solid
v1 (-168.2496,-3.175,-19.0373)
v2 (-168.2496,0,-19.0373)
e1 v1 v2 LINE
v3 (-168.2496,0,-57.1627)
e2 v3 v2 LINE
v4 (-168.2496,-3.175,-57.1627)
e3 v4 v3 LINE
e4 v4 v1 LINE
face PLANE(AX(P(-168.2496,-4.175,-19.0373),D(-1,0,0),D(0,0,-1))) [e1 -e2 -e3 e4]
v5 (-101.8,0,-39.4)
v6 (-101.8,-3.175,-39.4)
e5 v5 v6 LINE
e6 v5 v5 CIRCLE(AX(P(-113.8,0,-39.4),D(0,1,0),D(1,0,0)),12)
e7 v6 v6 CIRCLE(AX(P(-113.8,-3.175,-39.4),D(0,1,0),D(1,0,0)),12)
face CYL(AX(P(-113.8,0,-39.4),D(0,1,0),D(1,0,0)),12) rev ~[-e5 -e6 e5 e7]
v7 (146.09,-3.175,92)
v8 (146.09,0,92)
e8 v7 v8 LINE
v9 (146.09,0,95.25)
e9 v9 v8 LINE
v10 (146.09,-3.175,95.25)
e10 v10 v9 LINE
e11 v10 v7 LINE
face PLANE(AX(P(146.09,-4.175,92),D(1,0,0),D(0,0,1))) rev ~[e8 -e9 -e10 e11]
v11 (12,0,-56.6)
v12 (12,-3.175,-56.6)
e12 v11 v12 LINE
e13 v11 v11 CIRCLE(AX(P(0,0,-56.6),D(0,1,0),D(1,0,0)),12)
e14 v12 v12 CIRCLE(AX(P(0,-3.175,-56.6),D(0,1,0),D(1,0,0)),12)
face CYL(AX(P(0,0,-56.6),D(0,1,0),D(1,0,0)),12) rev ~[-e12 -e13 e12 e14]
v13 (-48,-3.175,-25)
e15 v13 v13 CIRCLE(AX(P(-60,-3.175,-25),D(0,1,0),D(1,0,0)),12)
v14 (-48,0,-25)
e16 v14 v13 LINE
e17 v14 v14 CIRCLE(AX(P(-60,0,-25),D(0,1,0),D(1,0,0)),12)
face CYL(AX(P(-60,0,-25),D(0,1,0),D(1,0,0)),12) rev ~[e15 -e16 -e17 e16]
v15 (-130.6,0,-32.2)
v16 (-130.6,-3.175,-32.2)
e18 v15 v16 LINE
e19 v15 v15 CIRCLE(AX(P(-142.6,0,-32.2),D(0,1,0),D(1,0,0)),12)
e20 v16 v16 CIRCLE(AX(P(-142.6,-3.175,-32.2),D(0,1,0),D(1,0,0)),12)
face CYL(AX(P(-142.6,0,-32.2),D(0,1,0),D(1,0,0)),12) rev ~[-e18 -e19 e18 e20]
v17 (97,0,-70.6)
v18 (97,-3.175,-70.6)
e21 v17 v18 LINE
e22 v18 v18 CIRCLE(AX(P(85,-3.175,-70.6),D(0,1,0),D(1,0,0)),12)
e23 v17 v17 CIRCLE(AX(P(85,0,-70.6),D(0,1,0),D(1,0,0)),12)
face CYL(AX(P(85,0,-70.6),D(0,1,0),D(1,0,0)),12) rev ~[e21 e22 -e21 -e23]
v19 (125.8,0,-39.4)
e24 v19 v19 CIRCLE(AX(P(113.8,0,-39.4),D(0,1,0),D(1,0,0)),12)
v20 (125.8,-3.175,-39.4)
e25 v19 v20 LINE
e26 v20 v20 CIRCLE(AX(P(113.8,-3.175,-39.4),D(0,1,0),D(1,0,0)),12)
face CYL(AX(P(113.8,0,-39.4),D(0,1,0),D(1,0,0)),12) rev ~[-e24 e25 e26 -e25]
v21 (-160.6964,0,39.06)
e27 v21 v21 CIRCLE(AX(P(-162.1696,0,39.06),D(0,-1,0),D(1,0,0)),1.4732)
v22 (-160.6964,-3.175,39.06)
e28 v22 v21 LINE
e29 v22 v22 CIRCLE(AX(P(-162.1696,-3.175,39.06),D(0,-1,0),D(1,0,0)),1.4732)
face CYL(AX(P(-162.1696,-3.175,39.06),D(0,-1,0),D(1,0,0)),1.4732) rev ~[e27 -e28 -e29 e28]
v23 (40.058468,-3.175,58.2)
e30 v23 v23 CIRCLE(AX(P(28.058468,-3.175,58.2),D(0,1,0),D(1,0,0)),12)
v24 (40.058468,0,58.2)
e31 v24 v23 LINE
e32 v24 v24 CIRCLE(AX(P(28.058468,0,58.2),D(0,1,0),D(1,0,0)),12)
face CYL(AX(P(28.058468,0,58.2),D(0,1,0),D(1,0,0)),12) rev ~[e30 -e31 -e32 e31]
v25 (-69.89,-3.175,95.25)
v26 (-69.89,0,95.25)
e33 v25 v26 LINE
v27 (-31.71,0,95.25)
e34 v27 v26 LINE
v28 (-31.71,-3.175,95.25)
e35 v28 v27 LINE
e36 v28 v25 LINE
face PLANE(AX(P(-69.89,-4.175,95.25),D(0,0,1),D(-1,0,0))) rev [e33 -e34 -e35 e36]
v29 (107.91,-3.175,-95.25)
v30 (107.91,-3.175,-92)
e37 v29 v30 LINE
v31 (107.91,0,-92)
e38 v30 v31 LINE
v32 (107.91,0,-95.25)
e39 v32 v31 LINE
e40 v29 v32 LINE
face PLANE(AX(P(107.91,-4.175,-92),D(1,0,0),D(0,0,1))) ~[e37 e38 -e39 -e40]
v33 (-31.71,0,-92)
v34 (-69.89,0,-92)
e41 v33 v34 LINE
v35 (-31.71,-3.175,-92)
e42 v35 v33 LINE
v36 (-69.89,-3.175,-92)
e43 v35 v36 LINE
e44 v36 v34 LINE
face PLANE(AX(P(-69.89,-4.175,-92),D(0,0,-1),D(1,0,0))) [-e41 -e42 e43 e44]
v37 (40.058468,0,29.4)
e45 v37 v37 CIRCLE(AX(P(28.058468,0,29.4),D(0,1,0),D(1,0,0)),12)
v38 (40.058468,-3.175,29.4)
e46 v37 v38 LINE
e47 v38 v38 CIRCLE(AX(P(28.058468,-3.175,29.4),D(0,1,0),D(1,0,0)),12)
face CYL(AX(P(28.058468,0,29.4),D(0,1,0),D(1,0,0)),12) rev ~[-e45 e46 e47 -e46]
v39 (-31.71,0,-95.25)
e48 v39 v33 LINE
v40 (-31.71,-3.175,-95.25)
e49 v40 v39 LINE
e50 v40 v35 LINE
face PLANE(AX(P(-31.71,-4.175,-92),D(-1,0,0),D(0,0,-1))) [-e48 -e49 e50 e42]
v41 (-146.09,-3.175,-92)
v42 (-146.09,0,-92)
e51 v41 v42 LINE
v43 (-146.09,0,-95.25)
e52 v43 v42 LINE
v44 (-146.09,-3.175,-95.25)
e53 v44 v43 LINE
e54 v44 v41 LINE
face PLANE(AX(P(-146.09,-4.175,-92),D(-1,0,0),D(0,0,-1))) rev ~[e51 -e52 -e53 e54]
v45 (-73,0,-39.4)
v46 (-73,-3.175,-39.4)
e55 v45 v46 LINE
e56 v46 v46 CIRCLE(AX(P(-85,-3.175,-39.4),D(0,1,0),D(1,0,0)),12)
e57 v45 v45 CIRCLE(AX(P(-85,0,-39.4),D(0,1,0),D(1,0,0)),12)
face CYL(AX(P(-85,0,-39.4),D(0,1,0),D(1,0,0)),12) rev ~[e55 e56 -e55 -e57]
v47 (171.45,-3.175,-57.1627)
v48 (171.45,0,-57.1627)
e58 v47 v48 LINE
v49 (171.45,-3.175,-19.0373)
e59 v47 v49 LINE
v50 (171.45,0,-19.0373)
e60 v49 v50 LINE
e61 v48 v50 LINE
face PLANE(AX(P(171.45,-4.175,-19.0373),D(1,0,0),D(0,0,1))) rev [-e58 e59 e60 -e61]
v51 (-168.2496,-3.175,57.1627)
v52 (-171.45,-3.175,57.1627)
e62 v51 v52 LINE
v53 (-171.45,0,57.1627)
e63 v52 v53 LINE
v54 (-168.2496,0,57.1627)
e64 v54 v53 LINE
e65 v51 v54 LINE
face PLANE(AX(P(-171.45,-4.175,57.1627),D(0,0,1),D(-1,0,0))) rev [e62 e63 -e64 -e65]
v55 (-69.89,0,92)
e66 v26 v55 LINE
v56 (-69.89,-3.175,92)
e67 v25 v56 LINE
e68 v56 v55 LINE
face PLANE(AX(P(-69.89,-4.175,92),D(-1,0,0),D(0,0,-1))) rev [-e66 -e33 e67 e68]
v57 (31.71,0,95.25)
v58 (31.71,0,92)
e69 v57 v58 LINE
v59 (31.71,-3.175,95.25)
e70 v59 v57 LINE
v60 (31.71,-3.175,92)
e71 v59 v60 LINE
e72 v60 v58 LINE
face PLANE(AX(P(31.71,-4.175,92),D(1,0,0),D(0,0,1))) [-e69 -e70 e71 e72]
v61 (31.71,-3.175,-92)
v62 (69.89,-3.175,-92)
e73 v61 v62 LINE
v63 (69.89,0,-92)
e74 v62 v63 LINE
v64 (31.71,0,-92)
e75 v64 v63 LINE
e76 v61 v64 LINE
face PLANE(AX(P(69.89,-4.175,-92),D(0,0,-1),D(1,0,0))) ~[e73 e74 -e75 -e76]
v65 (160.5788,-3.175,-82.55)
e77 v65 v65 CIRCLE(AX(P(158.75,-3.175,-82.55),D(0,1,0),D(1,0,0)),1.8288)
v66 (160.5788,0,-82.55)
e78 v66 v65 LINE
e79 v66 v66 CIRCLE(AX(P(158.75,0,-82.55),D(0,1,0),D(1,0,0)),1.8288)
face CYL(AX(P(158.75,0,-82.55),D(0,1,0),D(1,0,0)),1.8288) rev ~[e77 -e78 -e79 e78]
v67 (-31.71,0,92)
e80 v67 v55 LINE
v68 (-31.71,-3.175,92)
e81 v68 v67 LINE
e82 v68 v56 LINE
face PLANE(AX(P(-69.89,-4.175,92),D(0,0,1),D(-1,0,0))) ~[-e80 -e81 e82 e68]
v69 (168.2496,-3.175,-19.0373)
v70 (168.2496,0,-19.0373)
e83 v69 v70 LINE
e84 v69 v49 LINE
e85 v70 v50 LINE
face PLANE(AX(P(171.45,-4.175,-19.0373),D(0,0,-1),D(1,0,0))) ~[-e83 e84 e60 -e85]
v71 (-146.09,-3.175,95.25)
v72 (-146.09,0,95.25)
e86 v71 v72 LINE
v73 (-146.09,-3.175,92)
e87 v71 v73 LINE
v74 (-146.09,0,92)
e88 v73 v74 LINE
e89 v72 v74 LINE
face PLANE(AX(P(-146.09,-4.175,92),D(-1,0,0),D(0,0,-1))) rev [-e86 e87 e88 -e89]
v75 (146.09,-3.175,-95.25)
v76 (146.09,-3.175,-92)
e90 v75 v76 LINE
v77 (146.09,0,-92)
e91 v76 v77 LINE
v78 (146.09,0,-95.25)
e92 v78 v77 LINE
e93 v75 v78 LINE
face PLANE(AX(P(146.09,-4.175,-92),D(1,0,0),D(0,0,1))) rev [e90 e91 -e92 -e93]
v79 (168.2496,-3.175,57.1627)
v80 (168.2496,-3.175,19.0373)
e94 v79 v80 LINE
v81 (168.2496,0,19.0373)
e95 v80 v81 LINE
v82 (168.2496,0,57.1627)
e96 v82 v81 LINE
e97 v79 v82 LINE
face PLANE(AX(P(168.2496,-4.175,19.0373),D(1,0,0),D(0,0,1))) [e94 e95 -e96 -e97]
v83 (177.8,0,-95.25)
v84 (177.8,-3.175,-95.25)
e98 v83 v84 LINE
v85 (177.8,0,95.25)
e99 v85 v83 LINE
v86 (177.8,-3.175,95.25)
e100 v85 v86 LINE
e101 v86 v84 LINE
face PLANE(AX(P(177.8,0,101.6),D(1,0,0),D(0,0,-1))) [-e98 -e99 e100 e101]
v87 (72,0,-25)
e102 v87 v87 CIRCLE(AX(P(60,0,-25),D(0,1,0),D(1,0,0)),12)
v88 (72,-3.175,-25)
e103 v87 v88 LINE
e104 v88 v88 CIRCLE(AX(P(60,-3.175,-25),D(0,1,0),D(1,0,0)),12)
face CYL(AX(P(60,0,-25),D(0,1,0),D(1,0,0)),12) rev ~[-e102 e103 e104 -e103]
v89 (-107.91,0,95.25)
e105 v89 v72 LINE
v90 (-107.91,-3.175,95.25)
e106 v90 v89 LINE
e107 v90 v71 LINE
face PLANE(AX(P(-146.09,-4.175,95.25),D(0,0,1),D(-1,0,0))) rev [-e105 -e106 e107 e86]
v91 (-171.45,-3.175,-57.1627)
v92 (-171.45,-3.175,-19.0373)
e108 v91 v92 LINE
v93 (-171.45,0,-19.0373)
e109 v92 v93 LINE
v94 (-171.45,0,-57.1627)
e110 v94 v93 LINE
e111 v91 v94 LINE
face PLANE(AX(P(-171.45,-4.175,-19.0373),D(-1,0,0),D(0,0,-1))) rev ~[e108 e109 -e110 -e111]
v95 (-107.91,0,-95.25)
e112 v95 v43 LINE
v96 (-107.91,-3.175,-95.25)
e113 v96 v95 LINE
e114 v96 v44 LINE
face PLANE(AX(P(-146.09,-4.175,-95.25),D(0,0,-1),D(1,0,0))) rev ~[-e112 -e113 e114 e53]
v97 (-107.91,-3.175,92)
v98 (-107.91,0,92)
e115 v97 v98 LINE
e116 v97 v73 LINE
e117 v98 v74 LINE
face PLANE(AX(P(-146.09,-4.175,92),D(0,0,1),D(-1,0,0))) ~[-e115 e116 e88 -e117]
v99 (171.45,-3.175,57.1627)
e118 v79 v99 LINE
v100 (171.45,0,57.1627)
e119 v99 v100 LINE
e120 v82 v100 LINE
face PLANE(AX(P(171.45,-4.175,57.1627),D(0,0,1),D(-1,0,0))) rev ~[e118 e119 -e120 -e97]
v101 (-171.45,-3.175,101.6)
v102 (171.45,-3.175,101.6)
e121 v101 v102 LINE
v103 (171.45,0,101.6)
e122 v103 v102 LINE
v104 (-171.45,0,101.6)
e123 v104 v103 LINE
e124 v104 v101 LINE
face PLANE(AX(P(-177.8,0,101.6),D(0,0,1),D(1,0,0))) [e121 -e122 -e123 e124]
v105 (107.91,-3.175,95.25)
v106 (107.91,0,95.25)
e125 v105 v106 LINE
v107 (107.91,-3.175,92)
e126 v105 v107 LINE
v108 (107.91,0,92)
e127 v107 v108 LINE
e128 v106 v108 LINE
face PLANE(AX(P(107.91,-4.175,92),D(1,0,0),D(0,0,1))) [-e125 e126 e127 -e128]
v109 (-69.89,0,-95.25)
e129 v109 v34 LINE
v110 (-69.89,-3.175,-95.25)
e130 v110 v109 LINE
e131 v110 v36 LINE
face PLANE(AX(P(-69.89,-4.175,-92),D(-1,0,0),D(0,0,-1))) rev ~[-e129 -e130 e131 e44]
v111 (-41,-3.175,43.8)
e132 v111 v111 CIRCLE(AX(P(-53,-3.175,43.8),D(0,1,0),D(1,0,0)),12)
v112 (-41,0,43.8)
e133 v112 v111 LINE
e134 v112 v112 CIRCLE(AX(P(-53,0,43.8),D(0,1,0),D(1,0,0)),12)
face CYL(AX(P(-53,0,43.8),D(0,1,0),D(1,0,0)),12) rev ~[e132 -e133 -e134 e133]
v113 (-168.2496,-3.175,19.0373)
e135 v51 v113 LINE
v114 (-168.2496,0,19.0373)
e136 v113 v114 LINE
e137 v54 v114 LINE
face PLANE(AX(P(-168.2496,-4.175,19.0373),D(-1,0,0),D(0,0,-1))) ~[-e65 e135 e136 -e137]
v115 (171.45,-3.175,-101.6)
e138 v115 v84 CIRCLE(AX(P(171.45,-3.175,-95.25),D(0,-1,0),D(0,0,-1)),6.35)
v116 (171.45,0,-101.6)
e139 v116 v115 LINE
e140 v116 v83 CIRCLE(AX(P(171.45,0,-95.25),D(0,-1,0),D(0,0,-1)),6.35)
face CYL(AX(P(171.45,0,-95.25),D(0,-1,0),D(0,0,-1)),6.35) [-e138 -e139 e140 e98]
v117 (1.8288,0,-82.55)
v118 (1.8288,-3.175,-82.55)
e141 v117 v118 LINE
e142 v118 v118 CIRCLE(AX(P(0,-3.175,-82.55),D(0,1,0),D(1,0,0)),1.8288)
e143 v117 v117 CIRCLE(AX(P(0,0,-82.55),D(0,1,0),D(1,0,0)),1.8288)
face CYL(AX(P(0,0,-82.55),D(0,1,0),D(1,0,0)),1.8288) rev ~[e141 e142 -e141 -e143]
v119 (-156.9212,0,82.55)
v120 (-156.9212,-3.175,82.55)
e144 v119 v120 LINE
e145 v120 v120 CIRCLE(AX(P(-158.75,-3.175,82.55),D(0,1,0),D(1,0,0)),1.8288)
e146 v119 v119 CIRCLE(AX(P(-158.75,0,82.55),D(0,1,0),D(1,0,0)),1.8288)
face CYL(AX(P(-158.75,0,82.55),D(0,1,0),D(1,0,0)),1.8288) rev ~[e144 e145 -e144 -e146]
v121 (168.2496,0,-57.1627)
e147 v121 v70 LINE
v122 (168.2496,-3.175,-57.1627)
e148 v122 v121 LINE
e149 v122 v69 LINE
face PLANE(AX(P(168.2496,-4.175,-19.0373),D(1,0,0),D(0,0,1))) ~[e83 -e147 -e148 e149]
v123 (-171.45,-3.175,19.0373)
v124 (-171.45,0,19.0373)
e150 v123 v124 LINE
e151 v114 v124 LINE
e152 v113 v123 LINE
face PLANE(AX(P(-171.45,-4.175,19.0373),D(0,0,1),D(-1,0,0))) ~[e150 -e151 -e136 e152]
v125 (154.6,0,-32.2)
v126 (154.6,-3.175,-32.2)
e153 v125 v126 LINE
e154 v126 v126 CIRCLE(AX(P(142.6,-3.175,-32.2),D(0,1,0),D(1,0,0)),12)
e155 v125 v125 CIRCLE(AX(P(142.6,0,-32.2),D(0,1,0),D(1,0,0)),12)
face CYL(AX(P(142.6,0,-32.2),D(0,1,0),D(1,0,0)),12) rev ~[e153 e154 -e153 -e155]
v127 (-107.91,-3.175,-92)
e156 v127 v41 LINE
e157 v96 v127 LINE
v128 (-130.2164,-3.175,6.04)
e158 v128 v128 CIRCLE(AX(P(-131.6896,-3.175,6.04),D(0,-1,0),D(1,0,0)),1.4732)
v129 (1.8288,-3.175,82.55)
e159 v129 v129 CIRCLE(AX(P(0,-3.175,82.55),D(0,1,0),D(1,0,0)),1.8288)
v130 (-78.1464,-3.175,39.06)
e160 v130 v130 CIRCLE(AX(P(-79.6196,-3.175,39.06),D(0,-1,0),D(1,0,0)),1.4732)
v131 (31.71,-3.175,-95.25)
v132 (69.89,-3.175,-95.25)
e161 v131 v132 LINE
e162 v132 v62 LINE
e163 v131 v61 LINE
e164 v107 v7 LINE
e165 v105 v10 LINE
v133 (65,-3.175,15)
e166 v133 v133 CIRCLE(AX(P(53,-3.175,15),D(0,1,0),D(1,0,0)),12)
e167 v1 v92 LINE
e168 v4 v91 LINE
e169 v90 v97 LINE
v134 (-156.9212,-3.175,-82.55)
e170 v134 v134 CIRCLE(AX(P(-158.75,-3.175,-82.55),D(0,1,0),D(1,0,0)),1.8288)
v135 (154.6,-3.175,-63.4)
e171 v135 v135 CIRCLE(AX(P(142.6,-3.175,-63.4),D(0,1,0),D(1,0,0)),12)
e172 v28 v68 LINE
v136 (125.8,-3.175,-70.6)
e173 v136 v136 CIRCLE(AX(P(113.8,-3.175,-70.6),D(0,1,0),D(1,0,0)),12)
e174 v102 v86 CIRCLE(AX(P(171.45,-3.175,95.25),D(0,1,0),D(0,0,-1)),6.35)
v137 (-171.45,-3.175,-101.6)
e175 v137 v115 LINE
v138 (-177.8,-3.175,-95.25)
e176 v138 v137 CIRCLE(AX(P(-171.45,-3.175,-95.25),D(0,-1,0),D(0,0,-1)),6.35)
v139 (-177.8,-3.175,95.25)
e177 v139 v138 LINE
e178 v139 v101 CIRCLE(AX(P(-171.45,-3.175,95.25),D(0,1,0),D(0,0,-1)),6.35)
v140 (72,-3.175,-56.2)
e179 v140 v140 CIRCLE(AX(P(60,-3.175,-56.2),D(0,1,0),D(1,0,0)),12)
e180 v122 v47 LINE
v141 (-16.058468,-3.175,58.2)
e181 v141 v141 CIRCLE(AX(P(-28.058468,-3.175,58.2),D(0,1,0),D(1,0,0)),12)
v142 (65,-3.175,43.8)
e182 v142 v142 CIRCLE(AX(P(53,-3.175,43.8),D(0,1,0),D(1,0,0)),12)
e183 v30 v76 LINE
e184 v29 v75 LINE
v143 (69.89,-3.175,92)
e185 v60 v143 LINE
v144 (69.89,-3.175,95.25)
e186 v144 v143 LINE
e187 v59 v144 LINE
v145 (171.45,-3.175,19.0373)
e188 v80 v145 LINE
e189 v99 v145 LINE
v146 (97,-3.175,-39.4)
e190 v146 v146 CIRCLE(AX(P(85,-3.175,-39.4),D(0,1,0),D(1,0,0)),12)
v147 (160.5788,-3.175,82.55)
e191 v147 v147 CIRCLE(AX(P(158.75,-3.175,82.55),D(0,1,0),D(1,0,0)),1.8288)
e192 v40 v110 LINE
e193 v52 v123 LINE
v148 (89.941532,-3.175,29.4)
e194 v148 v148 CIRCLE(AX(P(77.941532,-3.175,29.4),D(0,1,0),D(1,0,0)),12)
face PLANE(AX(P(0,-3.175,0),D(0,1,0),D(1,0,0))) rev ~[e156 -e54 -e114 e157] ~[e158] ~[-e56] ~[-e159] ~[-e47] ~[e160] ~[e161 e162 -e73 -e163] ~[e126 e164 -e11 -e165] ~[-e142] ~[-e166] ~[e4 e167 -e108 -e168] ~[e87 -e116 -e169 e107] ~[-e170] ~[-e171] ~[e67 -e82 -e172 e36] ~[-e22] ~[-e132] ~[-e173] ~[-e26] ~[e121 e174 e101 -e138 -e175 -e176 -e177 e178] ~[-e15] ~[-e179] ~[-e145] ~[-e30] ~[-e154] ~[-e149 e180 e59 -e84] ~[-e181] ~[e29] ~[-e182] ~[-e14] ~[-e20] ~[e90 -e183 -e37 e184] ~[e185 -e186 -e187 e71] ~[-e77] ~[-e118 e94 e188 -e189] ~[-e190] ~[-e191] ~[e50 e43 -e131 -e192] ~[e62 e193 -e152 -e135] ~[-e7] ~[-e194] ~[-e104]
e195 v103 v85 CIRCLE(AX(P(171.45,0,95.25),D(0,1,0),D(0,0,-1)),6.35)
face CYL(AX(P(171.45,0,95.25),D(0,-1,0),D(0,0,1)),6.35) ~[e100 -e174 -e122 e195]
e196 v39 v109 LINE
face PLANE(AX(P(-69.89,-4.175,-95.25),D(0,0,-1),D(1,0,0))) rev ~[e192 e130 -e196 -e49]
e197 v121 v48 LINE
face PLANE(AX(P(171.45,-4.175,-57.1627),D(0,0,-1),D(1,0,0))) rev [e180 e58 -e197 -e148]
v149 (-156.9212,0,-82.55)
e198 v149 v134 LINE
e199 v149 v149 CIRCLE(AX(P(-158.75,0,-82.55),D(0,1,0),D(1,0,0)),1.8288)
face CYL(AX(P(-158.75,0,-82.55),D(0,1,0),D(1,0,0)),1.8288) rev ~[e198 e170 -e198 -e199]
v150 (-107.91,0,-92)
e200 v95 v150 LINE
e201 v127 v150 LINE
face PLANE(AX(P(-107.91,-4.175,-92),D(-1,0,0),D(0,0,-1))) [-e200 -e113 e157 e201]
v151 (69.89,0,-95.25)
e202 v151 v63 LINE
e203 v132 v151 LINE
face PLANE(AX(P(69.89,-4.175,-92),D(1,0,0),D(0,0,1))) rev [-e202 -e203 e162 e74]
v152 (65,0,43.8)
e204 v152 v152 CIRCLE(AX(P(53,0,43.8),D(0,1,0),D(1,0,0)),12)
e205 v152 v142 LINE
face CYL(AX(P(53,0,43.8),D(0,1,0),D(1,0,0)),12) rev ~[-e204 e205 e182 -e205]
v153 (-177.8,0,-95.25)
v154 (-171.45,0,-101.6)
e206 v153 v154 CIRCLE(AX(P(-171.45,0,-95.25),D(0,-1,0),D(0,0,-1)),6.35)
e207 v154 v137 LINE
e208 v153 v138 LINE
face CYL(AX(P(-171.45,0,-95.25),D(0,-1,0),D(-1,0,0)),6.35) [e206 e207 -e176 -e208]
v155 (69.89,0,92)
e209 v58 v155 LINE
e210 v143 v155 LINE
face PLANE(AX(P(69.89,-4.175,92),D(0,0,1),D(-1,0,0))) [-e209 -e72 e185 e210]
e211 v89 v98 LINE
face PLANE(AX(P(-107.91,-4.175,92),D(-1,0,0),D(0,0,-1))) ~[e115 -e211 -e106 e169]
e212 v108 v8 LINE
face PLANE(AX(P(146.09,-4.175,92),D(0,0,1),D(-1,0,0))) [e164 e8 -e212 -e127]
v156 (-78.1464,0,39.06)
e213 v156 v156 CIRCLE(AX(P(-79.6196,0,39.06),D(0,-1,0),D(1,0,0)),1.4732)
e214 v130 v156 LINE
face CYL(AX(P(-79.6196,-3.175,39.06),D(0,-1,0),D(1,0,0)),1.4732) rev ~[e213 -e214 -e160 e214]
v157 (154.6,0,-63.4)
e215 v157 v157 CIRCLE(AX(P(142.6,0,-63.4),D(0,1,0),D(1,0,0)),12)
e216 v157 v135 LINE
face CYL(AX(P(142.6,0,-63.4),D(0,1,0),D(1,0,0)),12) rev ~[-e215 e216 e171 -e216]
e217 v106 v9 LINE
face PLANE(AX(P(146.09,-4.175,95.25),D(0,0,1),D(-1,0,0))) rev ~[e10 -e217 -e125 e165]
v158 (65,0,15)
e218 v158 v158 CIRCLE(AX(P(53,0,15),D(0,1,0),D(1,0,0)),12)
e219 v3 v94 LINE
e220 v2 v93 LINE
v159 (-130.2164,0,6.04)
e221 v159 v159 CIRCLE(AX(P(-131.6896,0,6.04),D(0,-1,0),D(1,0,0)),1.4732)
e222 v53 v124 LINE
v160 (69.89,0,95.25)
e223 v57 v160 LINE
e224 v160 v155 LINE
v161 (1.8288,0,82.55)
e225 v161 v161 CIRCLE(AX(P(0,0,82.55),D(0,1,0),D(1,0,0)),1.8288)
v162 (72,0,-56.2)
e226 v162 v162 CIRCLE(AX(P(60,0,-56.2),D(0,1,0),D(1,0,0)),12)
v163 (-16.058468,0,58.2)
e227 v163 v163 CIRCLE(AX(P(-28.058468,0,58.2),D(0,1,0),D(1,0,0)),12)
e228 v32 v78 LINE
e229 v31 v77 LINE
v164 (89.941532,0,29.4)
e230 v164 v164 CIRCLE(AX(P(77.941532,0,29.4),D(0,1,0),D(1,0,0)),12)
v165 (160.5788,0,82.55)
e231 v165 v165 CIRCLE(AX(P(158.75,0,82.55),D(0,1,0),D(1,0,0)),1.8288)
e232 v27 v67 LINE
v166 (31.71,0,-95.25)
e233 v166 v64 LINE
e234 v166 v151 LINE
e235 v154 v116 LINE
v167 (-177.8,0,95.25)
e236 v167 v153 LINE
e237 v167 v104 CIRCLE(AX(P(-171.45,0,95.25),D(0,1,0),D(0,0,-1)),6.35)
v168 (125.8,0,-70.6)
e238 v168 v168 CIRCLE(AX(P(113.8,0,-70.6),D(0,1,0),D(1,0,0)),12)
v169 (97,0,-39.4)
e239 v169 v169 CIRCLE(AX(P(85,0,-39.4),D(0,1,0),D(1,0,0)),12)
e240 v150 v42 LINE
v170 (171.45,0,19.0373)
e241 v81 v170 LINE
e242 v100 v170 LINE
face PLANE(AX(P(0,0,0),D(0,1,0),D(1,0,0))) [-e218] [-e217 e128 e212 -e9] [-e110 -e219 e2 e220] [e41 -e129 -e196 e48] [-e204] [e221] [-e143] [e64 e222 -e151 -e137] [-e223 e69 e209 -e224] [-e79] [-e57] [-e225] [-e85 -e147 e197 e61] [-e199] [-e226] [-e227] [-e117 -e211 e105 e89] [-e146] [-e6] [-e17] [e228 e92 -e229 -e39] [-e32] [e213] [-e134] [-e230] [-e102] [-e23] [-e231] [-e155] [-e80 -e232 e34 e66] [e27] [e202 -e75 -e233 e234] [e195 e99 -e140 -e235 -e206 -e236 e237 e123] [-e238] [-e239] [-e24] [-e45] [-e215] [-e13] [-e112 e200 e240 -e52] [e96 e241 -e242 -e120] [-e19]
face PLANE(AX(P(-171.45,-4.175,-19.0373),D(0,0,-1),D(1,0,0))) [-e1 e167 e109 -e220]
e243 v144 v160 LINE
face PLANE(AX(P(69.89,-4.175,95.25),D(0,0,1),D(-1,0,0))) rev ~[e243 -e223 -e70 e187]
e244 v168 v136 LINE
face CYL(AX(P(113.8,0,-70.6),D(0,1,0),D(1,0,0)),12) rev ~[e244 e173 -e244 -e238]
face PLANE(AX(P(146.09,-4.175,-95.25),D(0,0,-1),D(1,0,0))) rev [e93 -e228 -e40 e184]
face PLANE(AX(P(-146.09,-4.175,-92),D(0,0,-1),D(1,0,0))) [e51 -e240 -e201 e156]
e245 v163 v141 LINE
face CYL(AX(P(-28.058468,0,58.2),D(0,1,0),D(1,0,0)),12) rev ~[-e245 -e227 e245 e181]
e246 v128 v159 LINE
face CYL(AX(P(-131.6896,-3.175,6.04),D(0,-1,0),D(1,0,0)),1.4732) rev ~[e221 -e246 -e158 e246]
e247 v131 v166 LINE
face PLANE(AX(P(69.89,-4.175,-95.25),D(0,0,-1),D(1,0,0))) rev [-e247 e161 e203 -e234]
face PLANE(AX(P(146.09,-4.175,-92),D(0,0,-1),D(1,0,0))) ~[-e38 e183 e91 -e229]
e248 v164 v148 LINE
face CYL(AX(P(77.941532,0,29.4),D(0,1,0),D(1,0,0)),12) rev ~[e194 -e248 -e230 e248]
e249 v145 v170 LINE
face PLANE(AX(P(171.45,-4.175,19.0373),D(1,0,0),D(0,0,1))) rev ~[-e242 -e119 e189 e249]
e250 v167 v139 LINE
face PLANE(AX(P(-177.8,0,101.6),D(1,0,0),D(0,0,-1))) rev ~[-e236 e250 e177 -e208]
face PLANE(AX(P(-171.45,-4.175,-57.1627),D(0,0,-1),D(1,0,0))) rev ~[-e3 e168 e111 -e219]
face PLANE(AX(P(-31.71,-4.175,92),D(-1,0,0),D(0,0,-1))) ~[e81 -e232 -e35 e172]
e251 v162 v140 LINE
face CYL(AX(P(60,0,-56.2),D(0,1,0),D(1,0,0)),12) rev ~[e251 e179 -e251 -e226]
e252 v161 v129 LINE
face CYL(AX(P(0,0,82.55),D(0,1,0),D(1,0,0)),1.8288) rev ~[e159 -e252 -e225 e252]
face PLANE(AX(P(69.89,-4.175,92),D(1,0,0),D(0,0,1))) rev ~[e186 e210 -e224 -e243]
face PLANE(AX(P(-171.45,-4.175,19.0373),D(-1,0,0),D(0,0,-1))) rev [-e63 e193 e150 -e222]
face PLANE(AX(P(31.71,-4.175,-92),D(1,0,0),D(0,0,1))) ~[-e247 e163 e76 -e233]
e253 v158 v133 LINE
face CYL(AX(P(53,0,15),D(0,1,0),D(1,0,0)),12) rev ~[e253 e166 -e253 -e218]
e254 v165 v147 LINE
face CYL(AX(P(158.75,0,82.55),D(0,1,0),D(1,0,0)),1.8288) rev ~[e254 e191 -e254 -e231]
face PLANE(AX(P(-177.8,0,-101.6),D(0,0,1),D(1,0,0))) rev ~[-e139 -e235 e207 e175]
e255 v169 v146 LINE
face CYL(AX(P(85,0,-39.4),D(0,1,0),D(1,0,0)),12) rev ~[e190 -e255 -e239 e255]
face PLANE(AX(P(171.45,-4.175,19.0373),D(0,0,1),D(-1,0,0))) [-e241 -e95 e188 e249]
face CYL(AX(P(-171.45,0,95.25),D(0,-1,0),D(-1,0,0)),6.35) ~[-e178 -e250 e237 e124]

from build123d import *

# Parameters (mm, degrees)
PANEL_PROFILE_2_W        = 355.6
PANEL_PROFILE_2_H        = 203.2
PANEL_PROFILE_DEPTH      = 3.175
RIGHT_HAND_BUTTONS_R     = 12
RIGHT_BUTTONS_DEPTH      = 1
RIGHT_BUTTONS_DEPTH_BACK = 3.175
SKETCH4_R                = 12
C_STICK_DEPTH            = 3.175
START_BUTTON_R           = 12
START_DEPTH              = 3.175
SKETCH7_R                = 12
L_STICK_DEPTH            = 3.175
SKETCH8_R                = 1.8288
CUT_EXTRUDE1_DEPTH       = 10
FILLET1_R                = 6.35
CUT_EXTRUDE2_START       = -4.175
SKETCH9_W                = 38.18
SKETCH9_H                = 3.25
CUT_EXTRUDE2_DEPTH       = 5.175
MIRROR2_START            = -4.175
MIRROR2_COPY_1_SKETCH_W  = 38.18
MIRROR2_COPY_1_SKETCH_H  = 3.25
MIRROR2_COPY_1_DEPTH     = 5.175
CUT_EXTRUDE3_START       = -4.175
SKETCH10_W               = 3.2004
SKETCH10_H               = 38.1254
CUT_EXTRUDE3_DEPTH       = 5.175
MIRROR4_START            = -4.175
MIRROR4_COPY_1_SKETCH_W  = 3.2004
MIRROR4_COPY_1_SKETCH_H  = 38.1254
MIRROR4_COPY_1_DEPTH     = 5.175
SKETCH12_R               = 1.4732
CUT_EXTRUDE4_DEPTH       = 1
CUT_EXTRUDE4_DEPTH_BACK  = 4.175


with BuildPart() as part:
    # Panel Profile 2 → Panel-Profile (new body)
    with BuildSketch(Plane(origin=(0, 0, 0), x_dir=(1, 0, 0), z_dir=(0, 1, 0))):
        Rectangle(PANEL_PROFILE_2_W, PANEL_PROFILE_2_H)
    extrude(amount=-PANEL_PROFILE_DEPTH)

    # Right Hand Buttons → Right Buttons (cut, two sides)
    with BuildSketch(Plane(origin=(0, 0, 0), x_dir=(1, 0, 0), z_dir=(0, 1, 0))) as right_buttons_sk:
        with Locations((60, 56.2)):
            Circle(RIGHT_HAND_BUTTONS_R)
        with Locations((85, 70.6)):
            Circle(RIGHT_HAND_BUTTONS_R)
        with Locations((113.8, 70.6)):
            Circle(RIGHT_HAND_BUTTONS_R)
        with Locations((142.6, 63.4)):
            Circle(RIGHT_HAND_BUTTONS_R)
        with Locations((60, 25)):
            Circle(RIGHT_HAND_BUTTONS_R)
        with Locations((85, 39.4)):
            Circle(RIGHT_HAND_BUTTONS_R)
        with Locations((113.8, 39.4)):
            Circle(RIGHT_HAND_BUTTONS_R)
        with Locations((142.6, 32.2)):
            Circle(RIGHT_HAND_BUTTONS_R)
    extrude(amount=RIGHT_BUTTONS_DEPTH, mode=Mode.SUBTRACT)
    extrude(right_buttons_sk.sketch, amount=-RIGHT_BUTTONS_DEPTH_BACK, mode=Mode.SUBTRACT)

    # Sketch4 → C-Stick (cut)
    with BuildSketch(Plane(origin=(0, 0, 0), x_dir=(1, 0, 0), z_dir=(0, 1, 0))):
        with Locations((53, -43.8)):
            Circle(SKETCH4_R)
        with Locations((53, -15)):
            Circle(SKETCH4_R)
        with Locations((77.941531629, -29.4)):
            Circle(SKETCH4_R)
        with Locations((28.058468371, -29.4)):
            Circle(SKETCH4_R)
        with Locations((28.058468371, -58.2)):
            Circle(SKETCH4_R)
    extrude(amount=-C_STICK_DEPTH, mode=Mode.SUBTRACT)

    # Start Button → Start (cut)
    with BuildSketch(Plane(origin=(0, 0, 0), x_dir=(1, 0, 0), z_dir=(0, 1, 0))):
        with Locations((0, 56.6)):
            Circle(START_BUTTON_R)
    extrude(amount=-START_DEPTH, mode=Mode.SUBTRACT)

    # Sketch7 → L-Stick (cut)
    with BuildSketch(Plane(origin=(0, 0, 0), x_dir=(1, 0, 0), z_dir=(0, 1, 0))):
        with Locations((-142.6, 32.2)):
            Circle(SKETCH7_R)
        with Locations((-113.8, 39.4)):
            Circle(SKETCH7_R)
        with Locations((-85, 39.4)):
            Circle(SKETCH7_R)
        with Locations((-60, 25)):
            Circle(SKETCH7_R)
        with Locations((-53, -43.8)):
            Circle(SKETCH7_R)
        with Locations((-28.058468371, -58.2)):
            Circle(SKETCH7_R)
    extrude(amount=-L_STICK_DEPTH, mode=Mode.SUBTRACT)

    # Sketch8 → Cut-Extrude1 (cut)
    with BuildSketch(Plane(origin=(0, 0, 0), x_dir=(1, 0, 0), z_dir=(0, 1, 0))):
        with Locations((-158.75, 82.55)):
            Circle(SKETCH8_R)
        with Locations((0, 82.55)):
            Circle(SKETCH8_R)
        with Locations((158.75, 82.55)):
            Circle(SKETCH8_R)
        with Locations((-158.75, -82.55)):
            Circle(SKETCH8_R)
        with Locations((0, -82.55)):
            Circle(SKETCH8_R)
        with Locations((158.75, -82.55)):
            Circle(SKETCH8_R)
    extrude(amount=-CUT_EXTRUDE1_DEPTH, mode=Mode.SUBTRACT)

    # Fillet1
    fillet1_edges = [part.edges().sort_by_distance(p)[0] for p in [
        (177.8, -1.5875, 101.6),
        (-177.8, -1.5875, 101.6),
        (-177.8, -1.5875, -101.6),
        (177.8, -1.5875, -101.6),
    ]]
    fillet(fillet1_edges, radius=FILLET1_R)

    # Sketch9 → Cut-Extrude2 (cut)
    with BuildSketch(Plane(origin=(0, 0, 0), x_dir=(1, 0, 0), z_dir=(0, 1, 0)).offset(CUT_EXTRUDE2_START)):
        with Locations((-127, 93.625)):
            Rectangle(SKETCH9_W, SKETCH9_H)
        with Locations((-50.8, 93.625)):
            Rectangle(SKETCH9_W, SKETCH9_H)
    cut_extrude2 = extrude(amount=CUT_EXTRUDE2_DEPTH, mode=Mode.SUBTRACT)

    # Mirror1: Cut-Extrude2 across plane
    add(cut_extrude2.mirror(Plane(origin=(0, 0, 0), x_dir=(0, 0, 1), z_dir=(1, 0, 0))), mode=Mode.SUBTRACT)

    # Mirror2: Cut-Extrude2 across plane
    add(cut_extrude2.mirror(Plane.XY), mode=Mode.SUBTRACT)

    # Mirror2 copy 1 sketch → Mirror2 copy 1 (cut)
    with BuildSketch(Plane(origin=(0, 0, 0), x_dir=(-1, 0, 0), z_dir=(0, 1, 0)).offset(MIRROR2_START)):
        with Locations((-127, 93.625)):
            Rectangle(MIRROR2_COPY_1_SKETCH_W, MIRROR2_COPY_1_SKETCH_H)
        with Locations((-50.8, 93.625)):
            Rectangle(MIRROR2_COPY_1_SKETCH_W, MIRROR2_COPY_1_SKETCH_H)
    extrude(amount=MIRROR2_COPY_1_DEPTH, mode=Mode.SUBTRACT)

    # Sketch10 → Cut-Extrude3 (cut)
    with BuildSketch(Plane(origin=(0, 0, 0), x_dir=(1, 0, 0), z_dir=(0, 1, 0)).offset(CUT_EXTRUDE3_START)):
        with Locations((-169.8498, 38.1)):
            Rectangle(SKETCH10_W, SKETCH10_H)
    cut_extrude3 = extrude(amount=CUT_EXTRUDE3_DEPTH, mode=Mode.SUBTRACT)

    # Mirror3: Cut-Extrude3 across plane
    add(cut_extrude3.mirror(Plane.XY), mode=Mode.SUBTRACT)

    # Mirror4: Cut-Extrude3 across plane
    add(cut_extrude3.mirror(Plane(origin=(0, 0, 0), x_dir=(0, 0, 1), z_dir=(1, 0, 0))), mode=Mode.SUBTRACT)

    # Mirror4 copy 1 sketch → Mirror4 copy 1 (cut)
    with BuildSketch(Plane(origin=(0, 0, 0), x_dir=(-1, 0, 0), z_dir=(0, 1, 0)).offset(MIRROR4_START)):
        with Locations((-169.8498, 38.1)):
            Rectangle(MIRROR4_COPY_1_SKETCH_W, MIRROR4_COPY_1_SKETCH_H)
    extrude(amount=MIRROR4_COPY_1_DEPTH, mode=Mode.SUBTRACT)

    # Sketch12 → Cut-Extrude4 (cut, two sides)
    with BuildSketch(Plane.XZ.offset(3.175)) as cut_extrude4_sk:
        with Locations((-79.6196, 39.06)):
            Circle(SKETCH12_R)
        with Locations((-131.6896, 6.04)):
            Circle(SKETCH12_R)
        with Locations((-162.1696, 39.06)):
            Circle(SKETCH12_R)
    extrude(amount=CUT_EXTRUDE4_DEPTH, mode=Mode.SUBTRACT)
    extrude(cut_extrude4_sk.sketch, amount=-CUT_EXTRUDE4_DEPTH_BACK, mode=Mode.SUBTRACT)


solid = part.part
